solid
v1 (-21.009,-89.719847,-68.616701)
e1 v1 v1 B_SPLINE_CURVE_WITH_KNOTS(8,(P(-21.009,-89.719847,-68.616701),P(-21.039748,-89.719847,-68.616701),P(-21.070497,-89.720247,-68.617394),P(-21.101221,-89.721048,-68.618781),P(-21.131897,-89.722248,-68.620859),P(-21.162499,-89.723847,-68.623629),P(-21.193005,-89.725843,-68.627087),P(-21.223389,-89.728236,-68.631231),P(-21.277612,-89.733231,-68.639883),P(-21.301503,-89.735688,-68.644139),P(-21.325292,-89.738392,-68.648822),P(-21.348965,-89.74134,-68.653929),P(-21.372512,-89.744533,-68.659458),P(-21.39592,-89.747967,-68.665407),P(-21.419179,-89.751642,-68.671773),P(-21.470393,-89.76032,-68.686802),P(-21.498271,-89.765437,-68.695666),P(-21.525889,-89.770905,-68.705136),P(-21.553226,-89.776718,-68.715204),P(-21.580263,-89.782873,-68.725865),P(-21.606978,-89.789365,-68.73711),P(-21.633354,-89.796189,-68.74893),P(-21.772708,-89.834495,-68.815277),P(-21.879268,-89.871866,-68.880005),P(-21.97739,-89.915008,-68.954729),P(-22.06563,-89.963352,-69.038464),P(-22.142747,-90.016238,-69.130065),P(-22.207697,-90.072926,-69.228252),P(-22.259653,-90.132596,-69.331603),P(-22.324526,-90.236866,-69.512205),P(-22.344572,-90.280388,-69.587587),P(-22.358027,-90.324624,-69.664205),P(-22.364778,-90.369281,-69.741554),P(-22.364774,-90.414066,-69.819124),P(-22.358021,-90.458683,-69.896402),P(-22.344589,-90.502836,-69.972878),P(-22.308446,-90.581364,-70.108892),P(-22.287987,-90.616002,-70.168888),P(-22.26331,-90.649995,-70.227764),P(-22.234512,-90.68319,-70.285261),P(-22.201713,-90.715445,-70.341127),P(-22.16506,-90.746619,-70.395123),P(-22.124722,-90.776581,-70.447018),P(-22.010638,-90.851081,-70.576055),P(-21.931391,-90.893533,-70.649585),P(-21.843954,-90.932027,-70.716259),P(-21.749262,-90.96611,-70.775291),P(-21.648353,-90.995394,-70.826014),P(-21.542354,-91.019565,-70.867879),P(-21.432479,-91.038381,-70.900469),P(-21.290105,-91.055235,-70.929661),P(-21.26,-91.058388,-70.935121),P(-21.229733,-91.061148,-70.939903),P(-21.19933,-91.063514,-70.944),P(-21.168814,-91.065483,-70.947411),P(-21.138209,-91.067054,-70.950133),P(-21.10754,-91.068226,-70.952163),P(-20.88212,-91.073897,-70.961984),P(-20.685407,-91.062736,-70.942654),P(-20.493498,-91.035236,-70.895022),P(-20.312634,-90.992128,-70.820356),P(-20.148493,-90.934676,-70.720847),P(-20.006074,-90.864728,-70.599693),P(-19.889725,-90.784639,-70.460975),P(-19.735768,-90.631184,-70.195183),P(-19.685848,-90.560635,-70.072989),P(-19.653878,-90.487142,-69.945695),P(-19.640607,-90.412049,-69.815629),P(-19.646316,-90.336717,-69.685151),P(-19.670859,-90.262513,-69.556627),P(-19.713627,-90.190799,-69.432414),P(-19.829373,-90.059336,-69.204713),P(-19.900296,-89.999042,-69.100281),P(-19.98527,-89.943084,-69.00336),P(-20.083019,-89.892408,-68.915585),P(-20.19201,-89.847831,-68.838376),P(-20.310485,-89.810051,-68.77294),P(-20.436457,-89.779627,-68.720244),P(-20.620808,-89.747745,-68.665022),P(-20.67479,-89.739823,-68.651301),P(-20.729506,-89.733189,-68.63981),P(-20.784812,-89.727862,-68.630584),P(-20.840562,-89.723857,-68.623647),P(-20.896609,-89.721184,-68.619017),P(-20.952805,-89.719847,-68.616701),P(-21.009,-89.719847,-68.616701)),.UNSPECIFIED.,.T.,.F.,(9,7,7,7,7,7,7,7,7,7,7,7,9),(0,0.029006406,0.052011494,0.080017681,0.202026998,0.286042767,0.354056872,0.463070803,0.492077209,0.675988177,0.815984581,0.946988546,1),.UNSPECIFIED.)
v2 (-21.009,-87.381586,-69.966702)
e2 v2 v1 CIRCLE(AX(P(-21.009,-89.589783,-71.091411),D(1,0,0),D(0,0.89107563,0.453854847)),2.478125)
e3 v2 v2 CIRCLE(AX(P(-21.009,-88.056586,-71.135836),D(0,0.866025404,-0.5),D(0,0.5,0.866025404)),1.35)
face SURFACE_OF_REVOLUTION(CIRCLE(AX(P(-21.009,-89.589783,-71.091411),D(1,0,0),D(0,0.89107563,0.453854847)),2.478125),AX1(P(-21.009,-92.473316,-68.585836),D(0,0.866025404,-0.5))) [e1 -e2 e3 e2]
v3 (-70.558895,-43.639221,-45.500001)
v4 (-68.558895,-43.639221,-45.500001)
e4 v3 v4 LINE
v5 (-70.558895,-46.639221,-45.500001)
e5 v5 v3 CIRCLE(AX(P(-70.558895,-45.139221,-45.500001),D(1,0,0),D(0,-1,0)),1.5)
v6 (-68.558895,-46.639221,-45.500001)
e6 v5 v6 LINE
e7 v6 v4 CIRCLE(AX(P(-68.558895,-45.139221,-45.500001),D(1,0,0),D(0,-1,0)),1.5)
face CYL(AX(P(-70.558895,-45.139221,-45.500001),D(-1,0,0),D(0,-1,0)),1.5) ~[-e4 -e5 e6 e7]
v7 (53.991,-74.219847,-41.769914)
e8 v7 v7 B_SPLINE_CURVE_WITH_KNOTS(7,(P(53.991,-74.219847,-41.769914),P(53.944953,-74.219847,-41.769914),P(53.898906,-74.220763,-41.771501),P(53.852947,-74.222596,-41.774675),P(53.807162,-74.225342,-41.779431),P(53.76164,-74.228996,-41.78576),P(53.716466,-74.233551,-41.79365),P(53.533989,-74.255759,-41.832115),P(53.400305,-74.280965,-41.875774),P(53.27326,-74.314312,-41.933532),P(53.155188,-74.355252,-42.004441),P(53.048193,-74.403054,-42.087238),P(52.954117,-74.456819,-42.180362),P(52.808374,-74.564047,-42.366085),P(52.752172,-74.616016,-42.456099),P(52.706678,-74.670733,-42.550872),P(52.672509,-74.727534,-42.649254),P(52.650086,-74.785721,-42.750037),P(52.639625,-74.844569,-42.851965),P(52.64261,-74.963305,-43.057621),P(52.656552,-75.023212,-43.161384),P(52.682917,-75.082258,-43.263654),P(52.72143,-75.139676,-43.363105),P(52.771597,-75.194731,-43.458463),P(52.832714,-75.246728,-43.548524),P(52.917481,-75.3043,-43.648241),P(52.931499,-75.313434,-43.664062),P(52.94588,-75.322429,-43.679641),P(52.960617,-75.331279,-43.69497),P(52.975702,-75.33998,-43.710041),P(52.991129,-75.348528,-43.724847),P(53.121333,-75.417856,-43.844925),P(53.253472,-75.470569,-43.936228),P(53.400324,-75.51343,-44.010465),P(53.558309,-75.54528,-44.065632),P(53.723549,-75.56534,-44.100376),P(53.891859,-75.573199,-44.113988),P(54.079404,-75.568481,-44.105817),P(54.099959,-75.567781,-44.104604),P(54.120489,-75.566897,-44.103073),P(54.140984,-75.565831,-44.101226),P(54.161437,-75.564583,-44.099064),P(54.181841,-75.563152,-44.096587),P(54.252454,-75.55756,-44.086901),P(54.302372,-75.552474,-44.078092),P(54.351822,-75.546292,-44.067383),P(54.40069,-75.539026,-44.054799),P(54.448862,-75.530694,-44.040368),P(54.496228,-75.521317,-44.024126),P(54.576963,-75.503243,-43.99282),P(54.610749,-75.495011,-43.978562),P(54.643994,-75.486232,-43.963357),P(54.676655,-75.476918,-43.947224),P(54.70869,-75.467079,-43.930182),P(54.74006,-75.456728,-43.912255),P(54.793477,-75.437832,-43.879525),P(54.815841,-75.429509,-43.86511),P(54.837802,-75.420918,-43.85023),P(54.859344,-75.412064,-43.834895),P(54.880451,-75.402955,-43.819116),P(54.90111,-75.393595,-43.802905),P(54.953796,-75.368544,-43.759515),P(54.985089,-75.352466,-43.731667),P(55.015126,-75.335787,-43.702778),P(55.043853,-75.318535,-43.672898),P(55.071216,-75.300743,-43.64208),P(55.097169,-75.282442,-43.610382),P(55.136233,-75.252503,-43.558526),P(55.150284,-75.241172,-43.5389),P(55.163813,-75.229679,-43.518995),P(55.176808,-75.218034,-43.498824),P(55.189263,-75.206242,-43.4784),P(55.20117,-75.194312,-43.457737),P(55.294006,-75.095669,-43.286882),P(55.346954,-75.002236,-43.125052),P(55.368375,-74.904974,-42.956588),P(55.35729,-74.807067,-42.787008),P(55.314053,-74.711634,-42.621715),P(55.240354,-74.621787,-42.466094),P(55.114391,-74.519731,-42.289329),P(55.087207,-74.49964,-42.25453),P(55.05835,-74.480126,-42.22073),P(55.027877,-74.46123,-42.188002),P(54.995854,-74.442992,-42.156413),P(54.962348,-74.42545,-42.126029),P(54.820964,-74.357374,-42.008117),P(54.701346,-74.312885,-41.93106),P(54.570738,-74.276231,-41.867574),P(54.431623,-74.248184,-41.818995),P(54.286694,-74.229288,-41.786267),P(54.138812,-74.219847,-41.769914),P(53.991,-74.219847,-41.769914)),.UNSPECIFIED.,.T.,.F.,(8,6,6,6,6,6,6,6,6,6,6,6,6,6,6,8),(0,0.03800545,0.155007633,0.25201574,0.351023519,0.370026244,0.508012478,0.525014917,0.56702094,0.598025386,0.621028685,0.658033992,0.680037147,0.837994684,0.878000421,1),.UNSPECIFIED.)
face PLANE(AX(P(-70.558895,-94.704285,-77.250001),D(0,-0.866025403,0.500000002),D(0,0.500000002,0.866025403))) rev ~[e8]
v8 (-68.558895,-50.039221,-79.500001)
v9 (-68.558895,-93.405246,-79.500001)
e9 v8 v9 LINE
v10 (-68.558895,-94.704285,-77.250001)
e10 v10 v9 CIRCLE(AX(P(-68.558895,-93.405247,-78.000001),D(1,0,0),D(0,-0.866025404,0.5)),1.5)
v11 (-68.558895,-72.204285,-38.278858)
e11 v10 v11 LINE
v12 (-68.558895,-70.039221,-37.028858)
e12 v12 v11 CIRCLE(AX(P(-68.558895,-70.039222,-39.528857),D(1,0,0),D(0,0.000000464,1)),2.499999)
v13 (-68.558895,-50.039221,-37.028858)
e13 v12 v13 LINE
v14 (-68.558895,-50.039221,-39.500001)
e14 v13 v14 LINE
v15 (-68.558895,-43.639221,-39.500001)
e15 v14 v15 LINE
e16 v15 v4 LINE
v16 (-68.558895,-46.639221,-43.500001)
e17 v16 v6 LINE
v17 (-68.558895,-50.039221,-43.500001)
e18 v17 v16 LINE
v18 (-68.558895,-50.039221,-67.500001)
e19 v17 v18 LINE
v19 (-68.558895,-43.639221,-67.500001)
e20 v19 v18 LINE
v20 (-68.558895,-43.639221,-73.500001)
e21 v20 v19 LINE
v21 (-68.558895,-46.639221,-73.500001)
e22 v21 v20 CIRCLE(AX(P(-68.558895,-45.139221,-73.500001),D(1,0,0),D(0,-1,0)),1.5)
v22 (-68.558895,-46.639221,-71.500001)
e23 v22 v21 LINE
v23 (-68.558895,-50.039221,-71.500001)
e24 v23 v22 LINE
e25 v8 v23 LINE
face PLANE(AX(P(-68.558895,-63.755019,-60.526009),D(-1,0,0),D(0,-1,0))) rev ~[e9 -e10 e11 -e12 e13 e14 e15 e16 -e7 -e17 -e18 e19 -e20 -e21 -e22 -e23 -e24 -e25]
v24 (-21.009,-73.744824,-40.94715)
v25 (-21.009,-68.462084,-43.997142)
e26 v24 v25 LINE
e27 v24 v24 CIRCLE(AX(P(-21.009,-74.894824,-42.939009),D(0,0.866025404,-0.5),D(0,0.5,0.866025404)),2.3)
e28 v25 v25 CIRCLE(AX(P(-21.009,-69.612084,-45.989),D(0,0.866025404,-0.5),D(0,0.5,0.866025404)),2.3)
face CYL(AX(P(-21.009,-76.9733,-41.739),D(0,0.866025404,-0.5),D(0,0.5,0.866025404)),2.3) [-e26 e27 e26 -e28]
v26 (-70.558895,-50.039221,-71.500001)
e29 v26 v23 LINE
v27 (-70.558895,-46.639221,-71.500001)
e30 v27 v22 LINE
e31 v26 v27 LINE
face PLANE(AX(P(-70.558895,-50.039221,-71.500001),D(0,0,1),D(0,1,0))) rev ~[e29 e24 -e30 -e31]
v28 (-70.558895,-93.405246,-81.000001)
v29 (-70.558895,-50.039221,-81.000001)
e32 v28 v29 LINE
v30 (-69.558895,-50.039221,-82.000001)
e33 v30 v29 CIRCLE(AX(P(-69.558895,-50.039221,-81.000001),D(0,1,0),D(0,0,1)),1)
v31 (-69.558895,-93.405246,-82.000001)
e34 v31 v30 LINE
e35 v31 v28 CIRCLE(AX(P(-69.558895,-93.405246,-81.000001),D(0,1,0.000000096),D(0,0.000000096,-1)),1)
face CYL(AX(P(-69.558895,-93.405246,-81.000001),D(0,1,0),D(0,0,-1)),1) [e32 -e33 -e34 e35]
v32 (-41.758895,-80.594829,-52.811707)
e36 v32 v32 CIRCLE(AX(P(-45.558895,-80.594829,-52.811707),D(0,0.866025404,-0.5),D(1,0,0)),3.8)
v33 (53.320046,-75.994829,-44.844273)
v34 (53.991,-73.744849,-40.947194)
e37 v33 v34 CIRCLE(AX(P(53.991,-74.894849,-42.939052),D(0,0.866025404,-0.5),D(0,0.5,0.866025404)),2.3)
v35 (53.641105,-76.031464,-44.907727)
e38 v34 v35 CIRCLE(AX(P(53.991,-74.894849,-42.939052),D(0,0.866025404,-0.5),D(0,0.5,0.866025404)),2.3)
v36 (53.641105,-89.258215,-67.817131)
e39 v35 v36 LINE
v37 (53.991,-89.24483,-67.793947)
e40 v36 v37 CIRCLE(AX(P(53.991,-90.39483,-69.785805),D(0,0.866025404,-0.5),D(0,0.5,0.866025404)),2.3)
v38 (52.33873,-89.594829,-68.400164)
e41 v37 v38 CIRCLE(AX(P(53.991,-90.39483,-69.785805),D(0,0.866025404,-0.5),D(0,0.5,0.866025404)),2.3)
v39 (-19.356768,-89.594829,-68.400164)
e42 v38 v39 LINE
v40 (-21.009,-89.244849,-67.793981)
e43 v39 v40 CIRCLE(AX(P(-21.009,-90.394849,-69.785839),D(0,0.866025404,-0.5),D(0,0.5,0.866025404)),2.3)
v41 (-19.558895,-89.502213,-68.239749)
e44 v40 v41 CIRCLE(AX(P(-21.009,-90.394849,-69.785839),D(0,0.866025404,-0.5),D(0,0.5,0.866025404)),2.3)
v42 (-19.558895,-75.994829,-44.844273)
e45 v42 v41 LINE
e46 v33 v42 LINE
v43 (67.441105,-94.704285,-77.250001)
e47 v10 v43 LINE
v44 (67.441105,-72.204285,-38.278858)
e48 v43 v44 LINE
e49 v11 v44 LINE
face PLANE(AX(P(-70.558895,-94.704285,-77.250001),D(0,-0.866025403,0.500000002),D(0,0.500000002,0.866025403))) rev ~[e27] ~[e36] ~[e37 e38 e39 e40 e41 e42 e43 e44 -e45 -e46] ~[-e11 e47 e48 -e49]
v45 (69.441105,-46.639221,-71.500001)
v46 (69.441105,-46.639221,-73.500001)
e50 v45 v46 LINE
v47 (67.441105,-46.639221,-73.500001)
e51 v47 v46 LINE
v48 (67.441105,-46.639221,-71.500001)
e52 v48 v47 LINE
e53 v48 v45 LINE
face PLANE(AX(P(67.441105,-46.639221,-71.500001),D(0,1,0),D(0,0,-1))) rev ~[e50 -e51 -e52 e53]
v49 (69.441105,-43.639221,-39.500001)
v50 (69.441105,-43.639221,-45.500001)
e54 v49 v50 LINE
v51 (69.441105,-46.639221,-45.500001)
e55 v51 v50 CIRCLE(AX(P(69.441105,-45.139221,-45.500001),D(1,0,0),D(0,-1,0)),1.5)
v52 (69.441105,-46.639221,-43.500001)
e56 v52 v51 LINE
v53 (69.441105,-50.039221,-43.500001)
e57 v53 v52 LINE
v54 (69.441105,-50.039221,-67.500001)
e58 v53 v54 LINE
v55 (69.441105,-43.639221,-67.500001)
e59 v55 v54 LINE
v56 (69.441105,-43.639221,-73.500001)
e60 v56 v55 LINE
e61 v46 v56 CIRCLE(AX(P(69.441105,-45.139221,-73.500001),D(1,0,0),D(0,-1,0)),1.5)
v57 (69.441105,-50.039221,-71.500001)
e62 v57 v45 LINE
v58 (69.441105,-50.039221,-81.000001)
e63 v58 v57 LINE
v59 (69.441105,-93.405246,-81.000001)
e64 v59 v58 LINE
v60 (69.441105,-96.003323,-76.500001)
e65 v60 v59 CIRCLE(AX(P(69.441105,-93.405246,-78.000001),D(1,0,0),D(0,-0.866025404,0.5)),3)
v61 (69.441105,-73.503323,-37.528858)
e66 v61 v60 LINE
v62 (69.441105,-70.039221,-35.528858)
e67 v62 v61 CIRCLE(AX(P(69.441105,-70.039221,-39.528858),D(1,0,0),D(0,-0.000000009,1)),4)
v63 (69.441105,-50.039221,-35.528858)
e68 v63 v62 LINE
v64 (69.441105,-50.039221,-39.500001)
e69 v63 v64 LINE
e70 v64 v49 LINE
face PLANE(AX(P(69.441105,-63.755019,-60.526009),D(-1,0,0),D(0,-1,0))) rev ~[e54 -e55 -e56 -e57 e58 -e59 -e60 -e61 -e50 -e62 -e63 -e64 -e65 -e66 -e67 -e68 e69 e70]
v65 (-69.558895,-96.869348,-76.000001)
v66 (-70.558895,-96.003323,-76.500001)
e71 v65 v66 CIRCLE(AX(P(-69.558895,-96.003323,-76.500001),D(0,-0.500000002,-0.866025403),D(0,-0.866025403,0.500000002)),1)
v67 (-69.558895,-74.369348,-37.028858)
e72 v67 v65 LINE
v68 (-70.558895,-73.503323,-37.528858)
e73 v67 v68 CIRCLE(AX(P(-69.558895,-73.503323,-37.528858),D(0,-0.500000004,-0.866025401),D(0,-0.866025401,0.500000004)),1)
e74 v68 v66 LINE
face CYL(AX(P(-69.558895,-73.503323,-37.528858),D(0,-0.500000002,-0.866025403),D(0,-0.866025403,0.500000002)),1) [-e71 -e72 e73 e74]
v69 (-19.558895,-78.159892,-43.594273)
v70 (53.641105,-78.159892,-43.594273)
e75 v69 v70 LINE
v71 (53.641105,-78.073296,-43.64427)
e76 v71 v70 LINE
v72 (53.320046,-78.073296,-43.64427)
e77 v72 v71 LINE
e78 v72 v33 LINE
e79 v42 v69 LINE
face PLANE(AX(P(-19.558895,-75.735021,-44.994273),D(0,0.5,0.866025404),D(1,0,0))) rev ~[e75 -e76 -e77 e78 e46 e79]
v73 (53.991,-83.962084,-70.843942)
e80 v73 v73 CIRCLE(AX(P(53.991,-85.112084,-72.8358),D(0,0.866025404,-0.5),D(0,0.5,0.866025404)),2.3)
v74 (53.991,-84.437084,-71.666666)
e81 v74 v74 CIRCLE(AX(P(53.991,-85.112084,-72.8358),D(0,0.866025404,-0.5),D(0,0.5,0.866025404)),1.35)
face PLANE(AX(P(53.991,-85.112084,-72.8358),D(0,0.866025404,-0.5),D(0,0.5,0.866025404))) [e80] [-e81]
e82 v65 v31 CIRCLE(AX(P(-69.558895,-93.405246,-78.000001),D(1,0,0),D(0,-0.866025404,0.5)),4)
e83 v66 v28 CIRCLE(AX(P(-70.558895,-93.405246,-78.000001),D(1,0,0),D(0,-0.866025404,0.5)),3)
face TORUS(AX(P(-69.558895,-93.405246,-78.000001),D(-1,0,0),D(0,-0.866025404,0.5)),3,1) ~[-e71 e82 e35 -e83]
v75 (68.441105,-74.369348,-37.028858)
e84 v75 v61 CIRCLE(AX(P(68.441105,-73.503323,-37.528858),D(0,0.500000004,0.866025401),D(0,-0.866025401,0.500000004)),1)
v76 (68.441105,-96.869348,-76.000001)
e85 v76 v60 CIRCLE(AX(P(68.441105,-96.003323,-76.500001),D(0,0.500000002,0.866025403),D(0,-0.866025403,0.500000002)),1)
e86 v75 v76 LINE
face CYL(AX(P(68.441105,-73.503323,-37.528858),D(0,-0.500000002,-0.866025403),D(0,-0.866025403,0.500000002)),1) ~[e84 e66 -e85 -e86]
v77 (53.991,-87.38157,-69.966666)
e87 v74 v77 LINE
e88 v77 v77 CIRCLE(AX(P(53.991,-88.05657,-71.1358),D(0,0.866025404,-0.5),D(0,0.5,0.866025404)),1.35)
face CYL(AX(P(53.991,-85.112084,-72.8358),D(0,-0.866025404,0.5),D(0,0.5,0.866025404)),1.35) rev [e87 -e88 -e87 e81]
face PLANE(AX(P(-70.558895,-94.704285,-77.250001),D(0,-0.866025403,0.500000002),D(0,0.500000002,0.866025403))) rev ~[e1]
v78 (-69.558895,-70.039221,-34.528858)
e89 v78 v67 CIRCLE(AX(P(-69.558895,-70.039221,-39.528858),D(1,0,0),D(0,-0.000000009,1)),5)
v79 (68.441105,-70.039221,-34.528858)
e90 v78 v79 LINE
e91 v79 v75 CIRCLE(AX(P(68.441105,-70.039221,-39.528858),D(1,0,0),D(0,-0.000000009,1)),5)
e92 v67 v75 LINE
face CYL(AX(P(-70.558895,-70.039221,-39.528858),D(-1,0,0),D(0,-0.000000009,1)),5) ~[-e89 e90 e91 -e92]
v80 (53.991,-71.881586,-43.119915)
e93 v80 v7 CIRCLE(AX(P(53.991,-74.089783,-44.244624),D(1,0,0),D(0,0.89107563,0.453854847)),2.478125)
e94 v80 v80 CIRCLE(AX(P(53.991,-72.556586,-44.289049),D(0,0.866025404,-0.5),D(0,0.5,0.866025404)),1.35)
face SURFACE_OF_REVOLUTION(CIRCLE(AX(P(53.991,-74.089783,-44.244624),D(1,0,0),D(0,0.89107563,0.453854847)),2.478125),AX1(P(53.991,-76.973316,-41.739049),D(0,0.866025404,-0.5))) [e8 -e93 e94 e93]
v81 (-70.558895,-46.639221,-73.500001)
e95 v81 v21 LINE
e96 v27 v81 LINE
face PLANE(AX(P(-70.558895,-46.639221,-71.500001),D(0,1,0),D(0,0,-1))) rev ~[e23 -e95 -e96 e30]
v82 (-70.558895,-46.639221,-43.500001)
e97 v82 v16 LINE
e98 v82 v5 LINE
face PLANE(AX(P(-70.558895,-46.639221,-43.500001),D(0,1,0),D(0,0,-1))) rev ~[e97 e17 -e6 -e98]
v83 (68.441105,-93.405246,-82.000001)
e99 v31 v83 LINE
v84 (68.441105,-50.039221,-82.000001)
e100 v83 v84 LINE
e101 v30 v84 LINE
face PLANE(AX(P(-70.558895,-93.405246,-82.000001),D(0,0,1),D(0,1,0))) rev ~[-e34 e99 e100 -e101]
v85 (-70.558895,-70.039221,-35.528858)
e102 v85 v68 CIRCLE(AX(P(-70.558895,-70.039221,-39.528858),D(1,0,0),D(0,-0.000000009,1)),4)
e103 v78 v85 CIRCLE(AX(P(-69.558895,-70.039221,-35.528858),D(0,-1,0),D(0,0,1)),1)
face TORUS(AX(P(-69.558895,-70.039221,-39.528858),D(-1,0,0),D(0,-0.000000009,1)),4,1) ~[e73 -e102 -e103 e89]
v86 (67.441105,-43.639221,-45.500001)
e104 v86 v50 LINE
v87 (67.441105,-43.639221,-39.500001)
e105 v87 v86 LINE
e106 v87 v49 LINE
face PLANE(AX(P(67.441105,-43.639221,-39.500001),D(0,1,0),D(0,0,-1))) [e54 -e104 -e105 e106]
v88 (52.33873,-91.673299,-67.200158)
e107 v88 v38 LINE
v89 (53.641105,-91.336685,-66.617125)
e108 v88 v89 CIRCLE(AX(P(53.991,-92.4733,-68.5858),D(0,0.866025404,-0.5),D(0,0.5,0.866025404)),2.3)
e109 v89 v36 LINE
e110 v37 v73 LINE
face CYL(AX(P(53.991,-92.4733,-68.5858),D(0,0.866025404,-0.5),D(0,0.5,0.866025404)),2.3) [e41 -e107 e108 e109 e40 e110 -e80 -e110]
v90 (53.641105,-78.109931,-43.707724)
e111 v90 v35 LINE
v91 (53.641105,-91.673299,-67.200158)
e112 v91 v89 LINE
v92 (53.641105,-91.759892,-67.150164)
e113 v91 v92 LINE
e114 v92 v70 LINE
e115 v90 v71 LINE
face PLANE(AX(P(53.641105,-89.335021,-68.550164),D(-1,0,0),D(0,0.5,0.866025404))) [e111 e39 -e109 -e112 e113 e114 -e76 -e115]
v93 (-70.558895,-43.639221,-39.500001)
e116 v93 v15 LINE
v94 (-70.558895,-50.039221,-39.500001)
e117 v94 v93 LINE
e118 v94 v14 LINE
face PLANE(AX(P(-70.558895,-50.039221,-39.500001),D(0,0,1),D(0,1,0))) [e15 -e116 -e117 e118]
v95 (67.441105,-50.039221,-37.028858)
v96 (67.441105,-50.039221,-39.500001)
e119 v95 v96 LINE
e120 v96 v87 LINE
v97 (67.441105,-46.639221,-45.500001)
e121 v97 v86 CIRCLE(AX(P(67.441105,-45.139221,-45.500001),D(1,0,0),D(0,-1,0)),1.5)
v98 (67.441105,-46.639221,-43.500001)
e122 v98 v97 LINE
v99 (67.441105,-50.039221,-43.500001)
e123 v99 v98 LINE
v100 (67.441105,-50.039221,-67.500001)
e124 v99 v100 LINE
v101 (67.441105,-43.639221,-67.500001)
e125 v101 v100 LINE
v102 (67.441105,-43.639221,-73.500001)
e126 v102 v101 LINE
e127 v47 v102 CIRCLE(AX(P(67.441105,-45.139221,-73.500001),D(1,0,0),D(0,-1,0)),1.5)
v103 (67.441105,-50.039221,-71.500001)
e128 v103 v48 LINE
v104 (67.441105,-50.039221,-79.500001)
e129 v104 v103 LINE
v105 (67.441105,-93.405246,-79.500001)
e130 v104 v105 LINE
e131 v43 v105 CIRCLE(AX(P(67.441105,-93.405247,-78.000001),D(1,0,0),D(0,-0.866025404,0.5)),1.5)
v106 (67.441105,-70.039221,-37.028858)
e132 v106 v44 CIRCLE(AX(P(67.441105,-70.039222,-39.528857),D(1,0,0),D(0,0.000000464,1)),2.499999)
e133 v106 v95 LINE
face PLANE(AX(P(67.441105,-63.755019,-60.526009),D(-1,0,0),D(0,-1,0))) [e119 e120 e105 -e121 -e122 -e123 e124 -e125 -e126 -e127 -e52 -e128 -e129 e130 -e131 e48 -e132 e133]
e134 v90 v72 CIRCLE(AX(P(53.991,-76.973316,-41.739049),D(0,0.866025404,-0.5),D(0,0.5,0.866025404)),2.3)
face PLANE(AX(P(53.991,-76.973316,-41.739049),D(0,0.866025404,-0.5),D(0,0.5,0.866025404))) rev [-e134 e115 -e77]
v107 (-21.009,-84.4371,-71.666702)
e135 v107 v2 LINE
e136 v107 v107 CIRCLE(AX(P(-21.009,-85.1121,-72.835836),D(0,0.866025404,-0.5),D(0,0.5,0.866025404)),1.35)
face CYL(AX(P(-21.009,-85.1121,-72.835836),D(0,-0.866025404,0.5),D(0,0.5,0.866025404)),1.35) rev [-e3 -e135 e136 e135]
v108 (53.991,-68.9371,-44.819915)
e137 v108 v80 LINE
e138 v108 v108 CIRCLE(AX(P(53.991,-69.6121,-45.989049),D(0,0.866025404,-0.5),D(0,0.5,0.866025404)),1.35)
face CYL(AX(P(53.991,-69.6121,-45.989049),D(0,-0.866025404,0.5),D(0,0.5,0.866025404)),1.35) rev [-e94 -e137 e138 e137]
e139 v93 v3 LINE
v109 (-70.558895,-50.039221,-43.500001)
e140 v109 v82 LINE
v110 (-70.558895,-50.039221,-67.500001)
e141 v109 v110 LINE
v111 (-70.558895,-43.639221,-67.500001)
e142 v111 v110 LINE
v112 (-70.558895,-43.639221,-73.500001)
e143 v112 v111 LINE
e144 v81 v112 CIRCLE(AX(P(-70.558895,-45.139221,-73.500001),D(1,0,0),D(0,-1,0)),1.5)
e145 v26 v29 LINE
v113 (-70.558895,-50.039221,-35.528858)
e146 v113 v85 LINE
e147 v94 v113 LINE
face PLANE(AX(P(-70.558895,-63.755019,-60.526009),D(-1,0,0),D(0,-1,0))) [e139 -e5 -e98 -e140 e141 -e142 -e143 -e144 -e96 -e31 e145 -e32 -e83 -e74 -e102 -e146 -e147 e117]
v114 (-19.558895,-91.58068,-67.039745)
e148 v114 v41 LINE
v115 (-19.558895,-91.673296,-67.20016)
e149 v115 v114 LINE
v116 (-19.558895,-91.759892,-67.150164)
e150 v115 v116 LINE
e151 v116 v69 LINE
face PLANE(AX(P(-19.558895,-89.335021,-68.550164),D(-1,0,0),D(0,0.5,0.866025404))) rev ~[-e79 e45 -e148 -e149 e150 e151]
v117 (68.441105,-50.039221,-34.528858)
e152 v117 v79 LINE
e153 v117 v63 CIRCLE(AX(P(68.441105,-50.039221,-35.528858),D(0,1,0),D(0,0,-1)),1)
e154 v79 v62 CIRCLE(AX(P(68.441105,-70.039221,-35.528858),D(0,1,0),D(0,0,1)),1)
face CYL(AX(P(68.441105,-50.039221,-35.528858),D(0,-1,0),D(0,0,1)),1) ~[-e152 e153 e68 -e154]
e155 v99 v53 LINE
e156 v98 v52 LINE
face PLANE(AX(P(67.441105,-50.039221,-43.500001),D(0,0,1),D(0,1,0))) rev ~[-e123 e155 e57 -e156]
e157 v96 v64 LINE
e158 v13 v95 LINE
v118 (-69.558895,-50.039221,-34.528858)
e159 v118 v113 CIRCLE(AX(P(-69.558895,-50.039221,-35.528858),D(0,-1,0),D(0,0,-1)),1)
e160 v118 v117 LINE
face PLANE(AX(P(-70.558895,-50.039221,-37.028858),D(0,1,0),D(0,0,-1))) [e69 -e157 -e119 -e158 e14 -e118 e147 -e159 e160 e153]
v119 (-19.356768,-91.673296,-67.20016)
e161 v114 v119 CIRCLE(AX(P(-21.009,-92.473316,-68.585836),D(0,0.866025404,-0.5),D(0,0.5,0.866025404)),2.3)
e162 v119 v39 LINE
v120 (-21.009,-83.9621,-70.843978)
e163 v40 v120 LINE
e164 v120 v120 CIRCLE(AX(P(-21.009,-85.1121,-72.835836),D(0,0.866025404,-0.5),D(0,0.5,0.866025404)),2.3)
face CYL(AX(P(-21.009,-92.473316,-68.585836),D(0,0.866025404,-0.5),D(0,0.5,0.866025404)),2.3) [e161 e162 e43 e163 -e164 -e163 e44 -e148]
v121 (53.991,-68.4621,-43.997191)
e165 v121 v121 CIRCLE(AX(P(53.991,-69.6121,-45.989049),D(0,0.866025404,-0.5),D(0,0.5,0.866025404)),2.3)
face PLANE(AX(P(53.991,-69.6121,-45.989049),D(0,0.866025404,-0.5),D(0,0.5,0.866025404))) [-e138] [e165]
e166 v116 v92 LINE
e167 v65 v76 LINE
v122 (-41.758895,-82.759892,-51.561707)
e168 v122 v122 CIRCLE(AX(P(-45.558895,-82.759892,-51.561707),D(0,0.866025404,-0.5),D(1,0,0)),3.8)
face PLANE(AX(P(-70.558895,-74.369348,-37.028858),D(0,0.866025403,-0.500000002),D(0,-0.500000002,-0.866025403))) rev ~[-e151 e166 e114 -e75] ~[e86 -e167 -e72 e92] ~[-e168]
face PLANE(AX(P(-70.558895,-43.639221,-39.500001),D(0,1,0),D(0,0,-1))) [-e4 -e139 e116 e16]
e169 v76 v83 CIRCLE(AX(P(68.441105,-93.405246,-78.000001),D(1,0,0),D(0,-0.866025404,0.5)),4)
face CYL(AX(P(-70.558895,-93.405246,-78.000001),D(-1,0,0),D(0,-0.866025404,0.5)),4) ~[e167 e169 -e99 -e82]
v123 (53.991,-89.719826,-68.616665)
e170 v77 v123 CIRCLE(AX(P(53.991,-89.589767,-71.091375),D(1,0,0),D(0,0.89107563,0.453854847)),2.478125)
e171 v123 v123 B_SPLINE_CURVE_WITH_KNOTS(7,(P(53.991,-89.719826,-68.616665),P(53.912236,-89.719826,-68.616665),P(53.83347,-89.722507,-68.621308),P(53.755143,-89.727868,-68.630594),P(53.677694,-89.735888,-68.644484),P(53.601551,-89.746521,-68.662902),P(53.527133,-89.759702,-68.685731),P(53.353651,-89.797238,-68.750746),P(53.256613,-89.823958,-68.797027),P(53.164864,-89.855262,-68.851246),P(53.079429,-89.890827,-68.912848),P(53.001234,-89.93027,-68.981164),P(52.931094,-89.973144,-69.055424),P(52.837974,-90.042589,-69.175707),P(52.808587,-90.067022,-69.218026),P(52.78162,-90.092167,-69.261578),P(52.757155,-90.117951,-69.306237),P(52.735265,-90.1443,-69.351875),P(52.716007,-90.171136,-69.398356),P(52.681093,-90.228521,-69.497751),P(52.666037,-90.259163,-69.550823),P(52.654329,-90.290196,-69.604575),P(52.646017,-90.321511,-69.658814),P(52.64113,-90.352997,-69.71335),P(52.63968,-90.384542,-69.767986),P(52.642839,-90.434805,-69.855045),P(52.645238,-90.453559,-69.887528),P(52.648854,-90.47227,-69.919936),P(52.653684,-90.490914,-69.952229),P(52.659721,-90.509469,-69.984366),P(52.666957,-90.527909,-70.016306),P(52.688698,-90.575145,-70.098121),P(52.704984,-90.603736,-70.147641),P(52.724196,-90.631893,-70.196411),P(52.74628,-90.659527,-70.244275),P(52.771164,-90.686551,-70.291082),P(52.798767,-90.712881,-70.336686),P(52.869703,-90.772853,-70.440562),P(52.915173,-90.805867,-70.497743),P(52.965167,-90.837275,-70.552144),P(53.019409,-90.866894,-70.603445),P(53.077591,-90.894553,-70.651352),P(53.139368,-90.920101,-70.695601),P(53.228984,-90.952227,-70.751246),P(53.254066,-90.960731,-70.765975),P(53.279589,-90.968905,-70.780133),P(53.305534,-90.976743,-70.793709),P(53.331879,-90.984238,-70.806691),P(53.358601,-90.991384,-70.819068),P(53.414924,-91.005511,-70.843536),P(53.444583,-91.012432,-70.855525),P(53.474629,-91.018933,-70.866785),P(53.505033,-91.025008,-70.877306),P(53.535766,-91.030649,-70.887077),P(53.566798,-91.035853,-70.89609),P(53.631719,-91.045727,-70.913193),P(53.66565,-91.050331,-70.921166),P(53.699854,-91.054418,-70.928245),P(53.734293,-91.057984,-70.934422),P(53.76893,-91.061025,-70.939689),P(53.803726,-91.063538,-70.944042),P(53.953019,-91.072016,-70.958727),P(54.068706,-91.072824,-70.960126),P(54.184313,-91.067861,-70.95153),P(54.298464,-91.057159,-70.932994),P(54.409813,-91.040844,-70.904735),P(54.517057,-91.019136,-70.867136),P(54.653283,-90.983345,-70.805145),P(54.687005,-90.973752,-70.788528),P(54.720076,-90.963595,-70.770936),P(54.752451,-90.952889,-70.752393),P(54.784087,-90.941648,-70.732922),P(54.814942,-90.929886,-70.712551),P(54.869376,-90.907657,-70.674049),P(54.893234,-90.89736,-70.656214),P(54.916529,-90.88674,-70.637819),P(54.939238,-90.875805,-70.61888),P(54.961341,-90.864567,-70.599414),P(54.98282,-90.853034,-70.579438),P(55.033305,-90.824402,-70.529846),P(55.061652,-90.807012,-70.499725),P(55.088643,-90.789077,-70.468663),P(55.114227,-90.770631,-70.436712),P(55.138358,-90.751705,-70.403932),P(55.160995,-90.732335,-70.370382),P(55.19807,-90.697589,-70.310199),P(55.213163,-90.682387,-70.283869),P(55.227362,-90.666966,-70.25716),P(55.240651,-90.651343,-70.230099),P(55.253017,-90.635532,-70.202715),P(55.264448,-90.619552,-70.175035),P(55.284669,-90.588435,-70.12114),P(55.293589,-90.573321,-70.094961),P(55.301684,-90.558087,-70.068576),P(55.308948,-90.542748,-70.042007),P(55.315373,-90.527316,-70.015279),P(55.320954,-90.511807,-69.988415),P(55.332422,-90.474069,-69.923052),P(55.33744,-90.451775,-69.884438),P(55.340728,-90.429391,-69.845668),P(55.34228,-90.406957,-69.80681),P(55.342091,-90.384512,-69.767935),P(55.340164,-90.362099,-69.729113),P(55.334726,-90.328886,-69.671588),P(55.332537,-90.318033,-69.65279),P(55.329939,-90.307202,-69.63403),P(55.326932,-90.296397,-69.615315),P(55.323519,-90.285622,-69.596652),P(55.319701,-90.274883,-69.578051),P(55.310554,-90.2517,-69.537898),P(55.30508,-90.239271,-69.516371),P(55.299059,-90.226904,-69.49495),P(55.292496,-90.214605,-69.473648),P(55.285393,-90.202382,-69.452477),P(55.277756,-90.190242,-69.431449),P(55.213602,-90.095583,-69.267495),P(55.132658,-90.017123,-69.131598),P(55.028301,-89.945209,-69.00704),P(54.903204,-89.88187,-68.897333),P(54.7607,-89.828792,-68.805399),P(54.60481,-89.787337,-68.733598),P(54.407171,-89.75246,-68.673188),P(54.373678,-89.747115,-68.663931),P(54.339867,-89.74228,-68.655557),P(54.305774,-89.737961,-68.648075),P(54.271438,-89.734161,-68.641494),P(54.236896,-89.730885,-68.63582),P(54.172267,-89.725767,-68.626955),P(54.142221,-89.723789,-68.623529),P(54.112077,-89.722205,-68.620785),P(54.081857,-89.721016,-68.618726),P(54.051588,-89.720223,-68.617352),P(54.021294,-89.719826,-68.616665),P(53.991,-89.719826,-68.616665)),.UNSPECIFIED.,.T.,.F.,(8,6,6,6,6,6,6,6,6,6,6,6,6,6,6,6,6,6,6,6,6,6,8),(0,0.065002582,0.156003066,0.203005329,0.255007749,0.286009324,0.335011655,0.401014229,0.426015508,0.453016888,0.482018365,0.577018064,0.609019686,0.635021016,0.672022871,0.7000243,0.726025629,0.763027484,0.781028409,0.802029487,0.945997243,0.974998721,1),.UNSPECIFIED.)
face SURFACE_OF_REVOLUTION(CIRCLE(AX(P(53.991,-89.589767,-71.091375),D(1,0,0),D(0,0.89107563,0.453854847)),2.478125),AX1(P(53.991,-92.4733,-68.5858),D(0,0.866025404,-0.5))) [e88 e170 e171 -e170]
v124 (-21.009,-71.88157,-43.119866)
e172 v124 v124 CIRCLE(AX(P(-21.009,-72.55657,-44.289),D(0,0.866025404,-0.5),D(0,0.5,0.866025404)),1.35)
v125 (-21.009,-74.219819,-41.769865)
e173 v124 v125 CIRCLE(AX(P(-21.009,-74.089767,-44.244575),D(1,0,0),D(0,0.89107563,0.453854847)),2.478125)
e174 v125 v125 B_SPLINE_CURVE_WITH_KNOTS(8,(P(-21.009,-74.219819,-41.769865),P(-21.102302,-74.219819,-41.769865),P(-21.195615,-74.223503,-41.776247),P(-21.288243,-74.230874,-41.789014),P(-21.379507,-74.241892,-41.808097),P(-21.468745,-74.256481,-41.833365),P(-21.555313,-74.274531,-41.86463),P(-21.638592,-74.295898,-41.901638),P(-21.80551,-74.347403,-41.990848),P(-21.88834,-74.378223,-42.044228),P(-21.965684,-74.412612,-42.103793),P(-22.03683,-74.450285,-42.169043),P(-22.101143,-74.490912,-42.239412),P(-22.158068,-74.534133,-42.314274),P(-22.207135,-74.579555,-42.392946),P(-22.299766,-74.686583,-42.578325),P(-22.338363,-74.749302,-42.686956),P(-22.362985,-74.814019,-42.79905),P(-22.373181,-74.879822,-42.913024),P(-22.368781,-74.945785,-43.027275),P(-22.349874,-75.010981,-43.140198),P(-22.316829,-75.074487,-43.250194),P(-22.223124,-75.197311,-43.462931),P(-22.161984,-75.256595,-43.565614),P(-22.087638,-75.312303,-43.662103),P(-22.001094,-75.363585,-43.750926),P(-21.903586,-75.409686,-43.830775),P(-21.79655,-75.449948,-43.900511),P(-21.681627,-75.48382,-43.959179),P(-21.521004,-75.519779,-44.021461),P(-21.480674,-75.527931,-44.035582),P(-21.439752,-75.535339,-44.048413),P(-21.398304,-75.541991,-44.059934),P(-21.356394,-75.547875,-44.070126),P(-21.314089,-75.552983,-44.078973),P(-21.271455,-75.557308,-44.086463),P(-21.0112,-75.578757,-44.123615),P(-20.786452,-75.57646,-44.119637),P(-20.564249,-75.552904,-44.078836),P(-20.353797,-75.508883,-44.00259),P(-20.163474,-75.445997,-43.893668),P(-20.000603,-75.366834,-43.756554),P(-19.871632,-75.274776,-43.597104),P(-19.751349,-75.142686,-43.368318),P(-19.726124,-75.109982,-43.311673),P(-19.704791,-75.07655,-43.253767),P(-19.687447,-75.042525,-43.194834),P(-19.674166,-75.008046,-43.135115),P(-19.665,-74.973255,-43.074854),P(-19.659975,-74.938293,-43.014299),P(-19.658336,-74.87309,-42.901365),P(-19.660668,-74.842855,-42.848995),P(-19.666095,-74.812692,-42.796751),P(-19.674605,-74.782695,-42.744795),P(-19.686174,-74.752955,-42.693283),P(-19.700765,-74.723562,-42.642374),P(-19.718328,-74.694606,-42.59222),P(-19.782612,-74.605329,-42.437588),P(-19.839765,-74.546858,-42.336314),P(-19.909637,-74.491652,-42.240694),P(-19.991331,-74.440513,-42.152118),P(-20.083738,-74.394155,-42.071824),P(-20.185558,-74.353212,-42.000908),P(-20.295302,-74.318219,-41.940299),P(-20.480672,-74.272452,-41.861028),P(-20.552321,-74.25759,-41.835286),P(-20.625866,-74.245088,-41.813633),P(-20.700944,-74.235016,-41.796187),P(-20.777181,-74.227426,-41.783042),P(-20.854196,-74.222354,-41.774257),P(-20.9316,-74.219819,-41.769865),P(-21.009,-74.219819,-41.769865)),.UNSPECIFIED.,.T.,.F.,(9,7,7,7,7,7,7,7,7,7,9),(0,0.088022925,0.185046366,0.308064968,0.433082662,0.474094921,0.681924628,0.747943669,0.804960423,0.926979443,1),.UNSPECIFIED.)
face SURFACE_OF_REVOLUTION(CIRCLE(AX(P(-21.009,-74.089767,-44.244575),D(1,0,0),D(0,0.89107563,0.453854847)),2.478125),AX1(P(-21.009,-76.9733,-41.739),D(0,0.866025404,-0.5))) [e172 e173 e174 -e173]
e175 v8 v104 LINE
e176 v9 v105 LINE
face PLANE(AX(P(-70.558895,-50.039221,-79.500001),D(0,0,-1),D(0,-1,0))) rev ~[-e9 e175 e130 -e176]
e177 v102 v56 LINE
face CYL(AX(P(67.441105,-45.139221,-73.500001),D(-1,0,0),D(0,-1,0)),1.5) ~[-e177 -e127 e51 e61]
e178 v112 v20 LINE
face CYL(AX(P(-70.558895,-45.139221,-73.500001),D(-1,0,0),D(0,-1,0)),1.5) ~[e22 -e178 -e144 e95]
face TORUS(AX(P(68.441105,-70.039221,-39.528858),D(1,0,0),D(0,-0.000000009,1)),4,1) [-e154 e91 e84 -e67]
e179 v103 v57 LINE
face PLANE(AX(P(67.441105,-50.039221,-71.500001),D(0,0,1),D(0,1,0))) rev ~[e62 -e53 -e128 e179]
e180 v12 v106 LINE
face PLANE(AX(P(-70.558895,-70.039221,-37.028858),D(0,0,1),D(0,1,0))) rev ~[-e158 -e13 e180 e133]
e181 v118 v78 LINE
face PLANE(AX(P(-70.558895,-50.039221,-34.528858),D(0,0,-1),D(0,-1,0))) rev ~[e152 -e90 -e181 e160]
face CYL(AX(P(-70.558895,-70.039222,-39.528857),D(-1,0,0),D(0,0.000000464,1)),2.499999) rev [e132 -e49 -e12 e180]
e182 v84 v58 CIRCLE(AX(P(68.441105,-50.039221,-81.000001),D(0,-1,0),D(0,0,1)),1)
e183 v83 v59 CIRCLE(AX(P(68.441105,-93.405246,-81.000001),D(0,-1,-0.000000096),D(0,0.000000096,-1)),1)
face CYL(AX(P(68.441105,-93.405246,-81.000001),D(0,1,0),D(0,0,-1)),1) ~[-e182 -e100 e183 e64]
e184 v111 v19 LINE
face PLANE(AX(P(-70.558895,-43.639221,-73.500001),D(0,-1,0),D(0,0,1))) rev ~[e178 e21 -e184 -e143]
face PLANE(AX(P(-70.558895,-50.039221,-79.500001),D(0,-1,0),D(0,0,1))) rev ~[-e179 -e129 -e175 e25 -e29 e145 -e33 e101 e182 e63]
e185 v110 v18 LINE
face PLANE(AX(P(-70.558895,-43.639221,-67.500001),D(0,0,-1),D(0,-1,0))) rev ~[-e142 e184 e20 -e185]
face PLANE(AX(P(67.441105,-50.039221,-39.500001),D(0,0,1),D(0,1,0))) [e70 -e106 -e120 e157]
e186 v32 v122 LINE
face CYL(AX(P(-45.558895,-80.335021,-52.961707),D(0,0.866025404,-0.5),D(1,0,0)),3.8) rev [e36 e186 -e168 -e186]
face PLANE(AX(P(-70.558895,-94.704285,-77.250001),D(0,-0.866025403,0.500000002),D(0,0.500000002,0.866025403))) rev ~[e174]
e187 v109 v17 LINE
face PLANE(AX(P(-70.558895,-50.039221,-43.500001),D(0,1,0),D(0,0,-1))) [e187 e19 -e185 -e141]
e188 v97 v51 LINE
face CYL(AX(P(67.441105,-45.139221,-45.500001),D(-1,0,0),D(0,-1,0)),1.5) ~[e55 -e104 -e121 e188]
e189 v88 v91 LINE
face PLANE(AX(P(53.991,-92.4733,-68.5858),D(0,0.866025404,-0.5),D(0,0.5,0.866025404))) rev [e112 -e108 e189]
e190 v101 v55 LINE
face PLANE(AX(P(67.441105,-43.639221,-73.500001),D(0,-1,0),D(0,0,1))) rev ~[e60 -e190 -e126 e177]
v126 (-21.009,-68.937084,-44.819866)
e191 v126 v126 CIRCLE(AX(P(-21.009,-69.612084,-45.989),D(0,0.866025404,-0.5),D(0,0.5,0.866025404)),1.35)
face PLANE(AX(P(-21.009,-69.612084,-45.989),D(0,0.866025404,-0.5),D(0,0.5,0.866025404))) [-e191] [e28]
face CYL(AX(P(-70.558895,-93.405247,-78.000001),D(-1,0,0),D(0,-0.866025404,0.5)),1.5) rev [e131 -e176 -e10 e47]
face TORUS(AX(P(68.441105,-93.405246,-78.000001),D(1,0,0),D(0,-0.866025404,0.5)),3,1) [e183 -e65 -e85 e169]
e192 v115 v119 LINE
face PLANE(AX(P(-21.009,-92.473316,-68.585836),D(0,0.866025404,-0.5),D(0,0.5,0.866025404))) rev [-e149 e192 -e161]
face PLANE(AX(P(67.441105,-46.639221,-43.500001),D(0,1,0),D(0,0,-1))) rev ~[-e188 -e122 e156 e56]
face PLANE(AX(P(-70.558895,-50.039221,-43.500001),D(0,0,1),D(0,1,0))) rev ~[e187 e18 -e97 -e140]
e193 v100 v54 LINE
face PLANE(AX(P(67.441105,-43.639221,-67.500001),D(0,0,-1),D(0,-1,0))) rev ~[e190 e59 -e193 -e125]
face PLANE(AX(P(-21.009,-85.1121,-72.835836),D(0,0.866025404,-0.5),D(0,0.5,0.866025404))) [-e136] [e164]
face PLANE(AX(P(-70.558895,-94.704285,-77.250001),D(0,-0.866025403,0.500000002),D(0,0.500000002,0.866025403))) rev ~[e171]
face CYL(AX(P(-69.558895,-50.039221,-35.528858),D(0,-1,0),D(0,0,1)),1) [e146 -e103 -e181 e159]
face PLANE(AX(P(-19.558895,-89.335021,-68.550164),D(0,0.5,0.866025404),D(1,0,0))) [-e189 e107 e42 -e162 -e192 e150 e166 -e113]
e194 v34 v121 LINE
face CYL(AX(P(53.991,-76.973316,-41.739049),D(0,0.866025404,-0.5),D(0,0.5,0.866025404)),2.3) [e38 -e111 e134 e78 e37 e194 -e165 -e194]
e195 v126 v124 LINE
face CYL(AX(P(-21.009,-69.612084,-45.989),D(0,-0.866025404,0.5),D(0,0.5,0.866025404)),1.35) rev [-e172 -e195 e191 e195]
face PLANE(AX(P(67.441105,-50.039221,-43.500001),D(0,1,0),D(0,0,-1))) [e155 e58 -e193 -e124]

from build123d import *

# Parameters (mm, degrees)
REVOLVE001_PLACEMENT_ANGLE  = 330
REVOLVE002_PLACEMENT_ANGLE  = 330
REVOLVE003_PLACEMENT_ANGLE  = 330
REVOLVE_PLACEMENT_ANGLE     = 330
EXTRUDE008_DEPTH            = 2
EXTRUDE007_DEPTH            = 2
CYLINDER011_R               = 3.8
CYLINDER011_DEPTH           = 3
CYLINDER011_PLACEMENT_ANGLE = 60
BOX020_W                    = 73.2
BOX020_H                    = 27.2
BOX020_DEPTH                = 3
BOX020_PLACEMENT_ANGLE      = 60
EXTRUDE006_DEPTH            = 140
FILLET013_R                 = 1
FILLET014_R                 = 1


with BuildPart() as revolve001:
    # Sketch040 → Revolve001 (revolve)
    with BuildSketch(Plane.YZ):
        with BuildLine():
            Line((0, 0), (0, 2.3))
            Line((0, 2.3), (8.5, 2.3))
            Line((8.5, 2.3), (8.5, 1.35))
            Line((8.5, 1.35), (5.1, 1.35))
            ThreePointArc((5.1, 1.35), (3.75, 1.75), (2.4, 1.35))
            Line((1.4, 1.35), (2.4, 1.35))
            Line((1.4, 0), (1.4, 1.35))
            Line((0, 0), (1.4, 0))
        make_face()
    revolve(axis=Axis((0, 0, 0), (0, 1, 0)))


with BuildPart() as revolve001_1:
    # Revolve001 placement: moved
    add(revolve001.part.moved(Location((-21.009, -76.9733, -41.739))).rotate(Axis((-21.009, -76.9733, -41.739), (1, 0, 0)), REVOLVE001_PLACEMENT_ANGLE))


with BuildPart() as revolve002:
    # Sketch040 → Revolve002 (revolve)
    with BuildSketch(Plane.YZ):
        with BuildLine():
            Line((0, 0), (0, 2.3))
            Line((0, 2.3), (8.5, 2.3))
            Line((8.5, 2.3), (8.5, 1.35))
            Line((8.5, 1.35), (5.1, 1.35))
            ThreePointArc((5.1, 1.35), (3.75, 1.75), (2.4, 1.35))
            Line((1.4, 1.35), (2.4, 1.35))
            Line((1.4, 0), (1.4, 1.35))
            Line((0, 0), (1.4, 0))
        make_face()
    revolve(axis=Axis((0, 0, 0), (0, 1, 0)))


with BuildPart() as revolve002_1:
    # Revolve002 placement: moved
    add(revolve002.part.moved(Location((-21.009, -92.473316, -68.585836))).rotate(Axis((-21.009, -92.473316, -68.585836), (1, 0, 0)), REVOLVE002_PLACEMENT_ANGLE))


with BuildPart() as revolve003:
    # Sketch040 → Revolve003 (revolve)
    with BuildSketch(Plane.YZ):
        with BuildLine():
            Line((0, 0), (0, 2.3))
            Line((0, 2.3), (8.5, 2.3))
            Line((8.5, 2.3), (8.5, 1.35))
            Line((8.5, 1.35), (5.1, 1.35))
            ThreePointArc((5.1, 1.35), (3.75, 1.75), (2.4, 1.35))
            Line((1.4, 1.35), (2.4, 1.35))
            Line((1.4, 0), (1.4, 1.35))
            Line((0, 0), (1.4, 0))
        make_face()
    revolve(axis=Axis((0, 0, 0), (0, 1, 0)))


with BuildPart() as revolve003_1:
    # Revolve003 placement: moved
    add(revolve003.part.moved(Location((53.991, -92.4733, -68.5858))).rotate(Axis((53.991, -92.4733, -68.5858), (1, 0, 0)), REVOLVE003_PLACEMENT_ANGLE))


with BuildPart() as revolve_body:
    # Sketch040 → Revolve (revolve)
    with BuildSketch(Plane.YZ):
        with BuildLine():
            Line((0, 0), (0, 2.3))
            Line((0, 2.3), (8.5, 2.3))
            Line((8.5, 2.3), (8.5, 1.35))
            Line((8.5, 1.35), (5.1, 1.35))
            ThreePointArc((5.1, 1.35), (3.75, 1.75), (2.4, 1.35))
            Line((1.4, 1.35), (2.4, 1.35))
            Line((1.4, 0), (1.4, 1.35))
            Line((0, 0), (1.4, 0))
        make_face()
    revolve(axis=Axis((0, 0, 0), (0, 1, 0)))


with BuildPart() as revolve_body_1:
    # Revolve placement: moved
    add(revolve_body.part.moved(Location((53.991, -76.973316, -41.739049))).rotate(Axis((53.991, -76.973316, -41.739049), (1, 0, 0)), REVOLVE_PLACEMENT_ANGLE))


with BuildPart() as extrude008:
    # Sketch032 → Extrude008 (new body)
    with BuildSketch(Plane.YZ):
        with BuildLine():
            Line((0, 0), (-43.366025, 0))
            ThreePointArc((-44.665064, 2.25), (-44.665064, 0.75), (-43.366025, 0))
            Line((-44.665064, 2.25), (-22.165064, 41.221143))
            ThreePointArc((-20, 42.471143), (-21.25, 42.136207), (-22.165064, 41.221143))
            Line((-20, 42.471143), (0, 42.471143))
            Line((0, 42.471143), (0, 40))
            Line((0, 40), (6.4, 40))
            Line((6.4, 40), (6.4, 34))
            ThreePointArc((3.4, 34), (4.9, 32.5), (6.4, 34))
            Line((3.4, 36), (3.4, 34))
            Line((0, 36), (3.4, 36))
            Line((0, 36), (0, 12))
            Line((6.4, 12), (0, 12))
            Line((6.4, 6), (6.4, 12))
            ThreePointArc((3.4, 6), (4.9, 4.5), (6.4, 6))
            Line((3.4, 8), (3.4, 6))
            Line((0, 8), (3.4, 8))
            Line((0, 0), (0, 8))
        make_face()
    extrude(amount=EXTRUDE008_DEPTH)


with BuildPart() as extrude008_1:
    # Extrude008 placement: moved
    add(extrude008.part.moved(Location((-70.558895, -50.039221, -79.500001))))


with BuildPart() as extrude007:
    # Sketch032 → Extrude007 (new body)
    with BuildSketch(Plane.YZ):
        with BuildLine():
            Line((0, 0), (-43.366025, 0))
            ThreePointArc((-44.665064, 2.25), (-44.665064, 0.75), (-43.366025, 0))
            Line((-44.665064, 2.25), (-22.165064, 41.221143))
            ThreePointArc((-20, 42.471143), (-21.25, 42.136207), (-22.165064, 41.221143))
            Line((-20, 42.471143), (0, 42.471143))
            Line((0, 42.471143), (0, 40))
            Line((0, 40), (6.4, 40))
            Line((6.4, 40), (6.4, 34))
            ThreePointArc((3.4, 34), (4.9, 32.5), (6.4, 34))
            Line((3.4, 36), (3.4, 34))
            Line((0, 36), (3.4, 36))
            Line((0, 36), (0, 12))
            Line((6.4, 12), (0, 12))
            Line((6.4, 6), (6.4, 12))
            ThreePointArc((3.4, 6), (4.9, 4.5), (6.4, 6))
            Line((3.4, 8), (3.4, 6))
            Line((0, 8), (3.4, 8))
            Line((0, 0), (0, 8))
        make_face()
    extrude(amount=EXTRUDE007_DEPTH)


with BuildPart() as extrude007_1:
    # Extrude007 placement: moved
    add(extrude007.part.moved(Location((67.441105, -50.039221, -79.500001))))


with BuildPart() as cylinder011:
    # Cylinder011 → Cylinder011 (new body)
    with BuildSketch(Plane.XY):
        Circle(CYLINDER011_R)
    extrude(amount=CYLINDER011_DEPTH)


with BuildPart() as cylinder011_1:
    # Cylinder011 placement: moved
    add(cylinder011.part.moved(Location((25, -10.2958, 29.038294))).rotate(Axis((25, -10.2958, 29.038294), (1, 0, 0)), CYLINDER011_PLACEMENT_ANGLE))


with BuildPart() as cube004:
    # Box020 → Box020 (new body)
    with BuildSketch(Plane.XY):
        with Locations((36.6, 13.6)):
            Rectangle(BOX020_W, BOX020_H)
    extrude(amount=BOX020_DEPTH)


with BuildPart() as cube004_1:
    # Box020 placement: moved
    add(cube004.part.moved(Location((51, -19.2958, 13.449837))).rotate(Axis((51, -19.2958, 13.449837), (1, 0, 0)), BOX020_PLACEMENT_ANGLE))


with BuildPart() as fusion010:
    # Sketch031 → Extrude006 (new body)
    with BuildSketch(Plane.YZ):
        with BuildLine():
            Line((20, 47.471143), (0, 47.471143))
            ThreePointArc((0, 47.471143), (-2.5, 46.80127), (-4.330127, 44.971143))
            Line((-4.330127, 44.971143), (-26.830127, 6))
            ThreePointArc((-26.830127, 6), (-26.830127, 2), (-23.366025, 0))
            Line((-23.366025, 0), (20, 0))
            Line((20, 0), (20, 2.5))
            Line((20, 2.5), (-23.366025, 2.5))
            ThreePointArc((-24.665064, 4.75), (-24.665064, 3.25), (-23.366025, 2.5))
            Line((-24.665064, 4.75), (-2.165064, 43.721143))
            ThreePointArc((0, 44.971143), (-1.25, 44.636207), (-2.165064, 43.721143))
            Line((0, 44.971143), (20, 44.971143))
            Line((20, 44.971143), (20, 47.471143))
        make_face()
    extrude(amount=EXTRUDE006_DEPTH)

    # Cut003: cut Cube004
    add(cube004_1.part, mode=Mode.SUBTRACT)

    # Cut004: cut Cylinder011
    add(cylinder011_1.part, mode=Mode.SUBTRACT)


with BuildPart() as fusion010_1:
    # Cut004 placement: moved
    add(fusion010.part.moved(Location((-70.558895, -70.039221, -82.000001))))

    # Fillet013
    fillet013_edges = [fusion010_1.edges().sort_by_distance(p)[0] for p in [
        (69.441105, -60.039221, -34.528858),
        (69.441105, -72.539221, -35.198731),
        (69.441105, -85.619348, -56.514429),
        (69.441105, -96.869348, -80.000001),
        (69.441105, -71.722234, -82.000001),
    ]]
    fillet(fillet013_edges, radius=FILLET013_R)

    # Fillet014
    fillet014_edges = [fusion010_1.edges().sort_by_distance(p)[0] for p in [
        (-70.558895, -60.039221, -34.528858),
        (-70.558895, -72.539221, -35.198731),
        (-70.558895, -85.619348, -56.514429),
        (-70.558895, -96.869348, -80.000001),
        (-70.558895, -71.722234, -82.000001),
    ]]
    fillet(fillet014_edges, radius=FILLET014_R)

    # Fusion005: union Extrude007
    add(extrude007_1.part)

    # Fusion006: union Extrude008
    add(extrude008_1.part)

    # Fusion007: union Revolve body
    add(revolve_body_1.part)

    # Fusion008: union Revolve003
    add(revolve003_1.part)

    # Fusion009: union Revolve002
    add(revolve002_1.part)

    # Fusion010: union Revolve001
    add(revolve001_1.part)


solid = fusion010_1.part
